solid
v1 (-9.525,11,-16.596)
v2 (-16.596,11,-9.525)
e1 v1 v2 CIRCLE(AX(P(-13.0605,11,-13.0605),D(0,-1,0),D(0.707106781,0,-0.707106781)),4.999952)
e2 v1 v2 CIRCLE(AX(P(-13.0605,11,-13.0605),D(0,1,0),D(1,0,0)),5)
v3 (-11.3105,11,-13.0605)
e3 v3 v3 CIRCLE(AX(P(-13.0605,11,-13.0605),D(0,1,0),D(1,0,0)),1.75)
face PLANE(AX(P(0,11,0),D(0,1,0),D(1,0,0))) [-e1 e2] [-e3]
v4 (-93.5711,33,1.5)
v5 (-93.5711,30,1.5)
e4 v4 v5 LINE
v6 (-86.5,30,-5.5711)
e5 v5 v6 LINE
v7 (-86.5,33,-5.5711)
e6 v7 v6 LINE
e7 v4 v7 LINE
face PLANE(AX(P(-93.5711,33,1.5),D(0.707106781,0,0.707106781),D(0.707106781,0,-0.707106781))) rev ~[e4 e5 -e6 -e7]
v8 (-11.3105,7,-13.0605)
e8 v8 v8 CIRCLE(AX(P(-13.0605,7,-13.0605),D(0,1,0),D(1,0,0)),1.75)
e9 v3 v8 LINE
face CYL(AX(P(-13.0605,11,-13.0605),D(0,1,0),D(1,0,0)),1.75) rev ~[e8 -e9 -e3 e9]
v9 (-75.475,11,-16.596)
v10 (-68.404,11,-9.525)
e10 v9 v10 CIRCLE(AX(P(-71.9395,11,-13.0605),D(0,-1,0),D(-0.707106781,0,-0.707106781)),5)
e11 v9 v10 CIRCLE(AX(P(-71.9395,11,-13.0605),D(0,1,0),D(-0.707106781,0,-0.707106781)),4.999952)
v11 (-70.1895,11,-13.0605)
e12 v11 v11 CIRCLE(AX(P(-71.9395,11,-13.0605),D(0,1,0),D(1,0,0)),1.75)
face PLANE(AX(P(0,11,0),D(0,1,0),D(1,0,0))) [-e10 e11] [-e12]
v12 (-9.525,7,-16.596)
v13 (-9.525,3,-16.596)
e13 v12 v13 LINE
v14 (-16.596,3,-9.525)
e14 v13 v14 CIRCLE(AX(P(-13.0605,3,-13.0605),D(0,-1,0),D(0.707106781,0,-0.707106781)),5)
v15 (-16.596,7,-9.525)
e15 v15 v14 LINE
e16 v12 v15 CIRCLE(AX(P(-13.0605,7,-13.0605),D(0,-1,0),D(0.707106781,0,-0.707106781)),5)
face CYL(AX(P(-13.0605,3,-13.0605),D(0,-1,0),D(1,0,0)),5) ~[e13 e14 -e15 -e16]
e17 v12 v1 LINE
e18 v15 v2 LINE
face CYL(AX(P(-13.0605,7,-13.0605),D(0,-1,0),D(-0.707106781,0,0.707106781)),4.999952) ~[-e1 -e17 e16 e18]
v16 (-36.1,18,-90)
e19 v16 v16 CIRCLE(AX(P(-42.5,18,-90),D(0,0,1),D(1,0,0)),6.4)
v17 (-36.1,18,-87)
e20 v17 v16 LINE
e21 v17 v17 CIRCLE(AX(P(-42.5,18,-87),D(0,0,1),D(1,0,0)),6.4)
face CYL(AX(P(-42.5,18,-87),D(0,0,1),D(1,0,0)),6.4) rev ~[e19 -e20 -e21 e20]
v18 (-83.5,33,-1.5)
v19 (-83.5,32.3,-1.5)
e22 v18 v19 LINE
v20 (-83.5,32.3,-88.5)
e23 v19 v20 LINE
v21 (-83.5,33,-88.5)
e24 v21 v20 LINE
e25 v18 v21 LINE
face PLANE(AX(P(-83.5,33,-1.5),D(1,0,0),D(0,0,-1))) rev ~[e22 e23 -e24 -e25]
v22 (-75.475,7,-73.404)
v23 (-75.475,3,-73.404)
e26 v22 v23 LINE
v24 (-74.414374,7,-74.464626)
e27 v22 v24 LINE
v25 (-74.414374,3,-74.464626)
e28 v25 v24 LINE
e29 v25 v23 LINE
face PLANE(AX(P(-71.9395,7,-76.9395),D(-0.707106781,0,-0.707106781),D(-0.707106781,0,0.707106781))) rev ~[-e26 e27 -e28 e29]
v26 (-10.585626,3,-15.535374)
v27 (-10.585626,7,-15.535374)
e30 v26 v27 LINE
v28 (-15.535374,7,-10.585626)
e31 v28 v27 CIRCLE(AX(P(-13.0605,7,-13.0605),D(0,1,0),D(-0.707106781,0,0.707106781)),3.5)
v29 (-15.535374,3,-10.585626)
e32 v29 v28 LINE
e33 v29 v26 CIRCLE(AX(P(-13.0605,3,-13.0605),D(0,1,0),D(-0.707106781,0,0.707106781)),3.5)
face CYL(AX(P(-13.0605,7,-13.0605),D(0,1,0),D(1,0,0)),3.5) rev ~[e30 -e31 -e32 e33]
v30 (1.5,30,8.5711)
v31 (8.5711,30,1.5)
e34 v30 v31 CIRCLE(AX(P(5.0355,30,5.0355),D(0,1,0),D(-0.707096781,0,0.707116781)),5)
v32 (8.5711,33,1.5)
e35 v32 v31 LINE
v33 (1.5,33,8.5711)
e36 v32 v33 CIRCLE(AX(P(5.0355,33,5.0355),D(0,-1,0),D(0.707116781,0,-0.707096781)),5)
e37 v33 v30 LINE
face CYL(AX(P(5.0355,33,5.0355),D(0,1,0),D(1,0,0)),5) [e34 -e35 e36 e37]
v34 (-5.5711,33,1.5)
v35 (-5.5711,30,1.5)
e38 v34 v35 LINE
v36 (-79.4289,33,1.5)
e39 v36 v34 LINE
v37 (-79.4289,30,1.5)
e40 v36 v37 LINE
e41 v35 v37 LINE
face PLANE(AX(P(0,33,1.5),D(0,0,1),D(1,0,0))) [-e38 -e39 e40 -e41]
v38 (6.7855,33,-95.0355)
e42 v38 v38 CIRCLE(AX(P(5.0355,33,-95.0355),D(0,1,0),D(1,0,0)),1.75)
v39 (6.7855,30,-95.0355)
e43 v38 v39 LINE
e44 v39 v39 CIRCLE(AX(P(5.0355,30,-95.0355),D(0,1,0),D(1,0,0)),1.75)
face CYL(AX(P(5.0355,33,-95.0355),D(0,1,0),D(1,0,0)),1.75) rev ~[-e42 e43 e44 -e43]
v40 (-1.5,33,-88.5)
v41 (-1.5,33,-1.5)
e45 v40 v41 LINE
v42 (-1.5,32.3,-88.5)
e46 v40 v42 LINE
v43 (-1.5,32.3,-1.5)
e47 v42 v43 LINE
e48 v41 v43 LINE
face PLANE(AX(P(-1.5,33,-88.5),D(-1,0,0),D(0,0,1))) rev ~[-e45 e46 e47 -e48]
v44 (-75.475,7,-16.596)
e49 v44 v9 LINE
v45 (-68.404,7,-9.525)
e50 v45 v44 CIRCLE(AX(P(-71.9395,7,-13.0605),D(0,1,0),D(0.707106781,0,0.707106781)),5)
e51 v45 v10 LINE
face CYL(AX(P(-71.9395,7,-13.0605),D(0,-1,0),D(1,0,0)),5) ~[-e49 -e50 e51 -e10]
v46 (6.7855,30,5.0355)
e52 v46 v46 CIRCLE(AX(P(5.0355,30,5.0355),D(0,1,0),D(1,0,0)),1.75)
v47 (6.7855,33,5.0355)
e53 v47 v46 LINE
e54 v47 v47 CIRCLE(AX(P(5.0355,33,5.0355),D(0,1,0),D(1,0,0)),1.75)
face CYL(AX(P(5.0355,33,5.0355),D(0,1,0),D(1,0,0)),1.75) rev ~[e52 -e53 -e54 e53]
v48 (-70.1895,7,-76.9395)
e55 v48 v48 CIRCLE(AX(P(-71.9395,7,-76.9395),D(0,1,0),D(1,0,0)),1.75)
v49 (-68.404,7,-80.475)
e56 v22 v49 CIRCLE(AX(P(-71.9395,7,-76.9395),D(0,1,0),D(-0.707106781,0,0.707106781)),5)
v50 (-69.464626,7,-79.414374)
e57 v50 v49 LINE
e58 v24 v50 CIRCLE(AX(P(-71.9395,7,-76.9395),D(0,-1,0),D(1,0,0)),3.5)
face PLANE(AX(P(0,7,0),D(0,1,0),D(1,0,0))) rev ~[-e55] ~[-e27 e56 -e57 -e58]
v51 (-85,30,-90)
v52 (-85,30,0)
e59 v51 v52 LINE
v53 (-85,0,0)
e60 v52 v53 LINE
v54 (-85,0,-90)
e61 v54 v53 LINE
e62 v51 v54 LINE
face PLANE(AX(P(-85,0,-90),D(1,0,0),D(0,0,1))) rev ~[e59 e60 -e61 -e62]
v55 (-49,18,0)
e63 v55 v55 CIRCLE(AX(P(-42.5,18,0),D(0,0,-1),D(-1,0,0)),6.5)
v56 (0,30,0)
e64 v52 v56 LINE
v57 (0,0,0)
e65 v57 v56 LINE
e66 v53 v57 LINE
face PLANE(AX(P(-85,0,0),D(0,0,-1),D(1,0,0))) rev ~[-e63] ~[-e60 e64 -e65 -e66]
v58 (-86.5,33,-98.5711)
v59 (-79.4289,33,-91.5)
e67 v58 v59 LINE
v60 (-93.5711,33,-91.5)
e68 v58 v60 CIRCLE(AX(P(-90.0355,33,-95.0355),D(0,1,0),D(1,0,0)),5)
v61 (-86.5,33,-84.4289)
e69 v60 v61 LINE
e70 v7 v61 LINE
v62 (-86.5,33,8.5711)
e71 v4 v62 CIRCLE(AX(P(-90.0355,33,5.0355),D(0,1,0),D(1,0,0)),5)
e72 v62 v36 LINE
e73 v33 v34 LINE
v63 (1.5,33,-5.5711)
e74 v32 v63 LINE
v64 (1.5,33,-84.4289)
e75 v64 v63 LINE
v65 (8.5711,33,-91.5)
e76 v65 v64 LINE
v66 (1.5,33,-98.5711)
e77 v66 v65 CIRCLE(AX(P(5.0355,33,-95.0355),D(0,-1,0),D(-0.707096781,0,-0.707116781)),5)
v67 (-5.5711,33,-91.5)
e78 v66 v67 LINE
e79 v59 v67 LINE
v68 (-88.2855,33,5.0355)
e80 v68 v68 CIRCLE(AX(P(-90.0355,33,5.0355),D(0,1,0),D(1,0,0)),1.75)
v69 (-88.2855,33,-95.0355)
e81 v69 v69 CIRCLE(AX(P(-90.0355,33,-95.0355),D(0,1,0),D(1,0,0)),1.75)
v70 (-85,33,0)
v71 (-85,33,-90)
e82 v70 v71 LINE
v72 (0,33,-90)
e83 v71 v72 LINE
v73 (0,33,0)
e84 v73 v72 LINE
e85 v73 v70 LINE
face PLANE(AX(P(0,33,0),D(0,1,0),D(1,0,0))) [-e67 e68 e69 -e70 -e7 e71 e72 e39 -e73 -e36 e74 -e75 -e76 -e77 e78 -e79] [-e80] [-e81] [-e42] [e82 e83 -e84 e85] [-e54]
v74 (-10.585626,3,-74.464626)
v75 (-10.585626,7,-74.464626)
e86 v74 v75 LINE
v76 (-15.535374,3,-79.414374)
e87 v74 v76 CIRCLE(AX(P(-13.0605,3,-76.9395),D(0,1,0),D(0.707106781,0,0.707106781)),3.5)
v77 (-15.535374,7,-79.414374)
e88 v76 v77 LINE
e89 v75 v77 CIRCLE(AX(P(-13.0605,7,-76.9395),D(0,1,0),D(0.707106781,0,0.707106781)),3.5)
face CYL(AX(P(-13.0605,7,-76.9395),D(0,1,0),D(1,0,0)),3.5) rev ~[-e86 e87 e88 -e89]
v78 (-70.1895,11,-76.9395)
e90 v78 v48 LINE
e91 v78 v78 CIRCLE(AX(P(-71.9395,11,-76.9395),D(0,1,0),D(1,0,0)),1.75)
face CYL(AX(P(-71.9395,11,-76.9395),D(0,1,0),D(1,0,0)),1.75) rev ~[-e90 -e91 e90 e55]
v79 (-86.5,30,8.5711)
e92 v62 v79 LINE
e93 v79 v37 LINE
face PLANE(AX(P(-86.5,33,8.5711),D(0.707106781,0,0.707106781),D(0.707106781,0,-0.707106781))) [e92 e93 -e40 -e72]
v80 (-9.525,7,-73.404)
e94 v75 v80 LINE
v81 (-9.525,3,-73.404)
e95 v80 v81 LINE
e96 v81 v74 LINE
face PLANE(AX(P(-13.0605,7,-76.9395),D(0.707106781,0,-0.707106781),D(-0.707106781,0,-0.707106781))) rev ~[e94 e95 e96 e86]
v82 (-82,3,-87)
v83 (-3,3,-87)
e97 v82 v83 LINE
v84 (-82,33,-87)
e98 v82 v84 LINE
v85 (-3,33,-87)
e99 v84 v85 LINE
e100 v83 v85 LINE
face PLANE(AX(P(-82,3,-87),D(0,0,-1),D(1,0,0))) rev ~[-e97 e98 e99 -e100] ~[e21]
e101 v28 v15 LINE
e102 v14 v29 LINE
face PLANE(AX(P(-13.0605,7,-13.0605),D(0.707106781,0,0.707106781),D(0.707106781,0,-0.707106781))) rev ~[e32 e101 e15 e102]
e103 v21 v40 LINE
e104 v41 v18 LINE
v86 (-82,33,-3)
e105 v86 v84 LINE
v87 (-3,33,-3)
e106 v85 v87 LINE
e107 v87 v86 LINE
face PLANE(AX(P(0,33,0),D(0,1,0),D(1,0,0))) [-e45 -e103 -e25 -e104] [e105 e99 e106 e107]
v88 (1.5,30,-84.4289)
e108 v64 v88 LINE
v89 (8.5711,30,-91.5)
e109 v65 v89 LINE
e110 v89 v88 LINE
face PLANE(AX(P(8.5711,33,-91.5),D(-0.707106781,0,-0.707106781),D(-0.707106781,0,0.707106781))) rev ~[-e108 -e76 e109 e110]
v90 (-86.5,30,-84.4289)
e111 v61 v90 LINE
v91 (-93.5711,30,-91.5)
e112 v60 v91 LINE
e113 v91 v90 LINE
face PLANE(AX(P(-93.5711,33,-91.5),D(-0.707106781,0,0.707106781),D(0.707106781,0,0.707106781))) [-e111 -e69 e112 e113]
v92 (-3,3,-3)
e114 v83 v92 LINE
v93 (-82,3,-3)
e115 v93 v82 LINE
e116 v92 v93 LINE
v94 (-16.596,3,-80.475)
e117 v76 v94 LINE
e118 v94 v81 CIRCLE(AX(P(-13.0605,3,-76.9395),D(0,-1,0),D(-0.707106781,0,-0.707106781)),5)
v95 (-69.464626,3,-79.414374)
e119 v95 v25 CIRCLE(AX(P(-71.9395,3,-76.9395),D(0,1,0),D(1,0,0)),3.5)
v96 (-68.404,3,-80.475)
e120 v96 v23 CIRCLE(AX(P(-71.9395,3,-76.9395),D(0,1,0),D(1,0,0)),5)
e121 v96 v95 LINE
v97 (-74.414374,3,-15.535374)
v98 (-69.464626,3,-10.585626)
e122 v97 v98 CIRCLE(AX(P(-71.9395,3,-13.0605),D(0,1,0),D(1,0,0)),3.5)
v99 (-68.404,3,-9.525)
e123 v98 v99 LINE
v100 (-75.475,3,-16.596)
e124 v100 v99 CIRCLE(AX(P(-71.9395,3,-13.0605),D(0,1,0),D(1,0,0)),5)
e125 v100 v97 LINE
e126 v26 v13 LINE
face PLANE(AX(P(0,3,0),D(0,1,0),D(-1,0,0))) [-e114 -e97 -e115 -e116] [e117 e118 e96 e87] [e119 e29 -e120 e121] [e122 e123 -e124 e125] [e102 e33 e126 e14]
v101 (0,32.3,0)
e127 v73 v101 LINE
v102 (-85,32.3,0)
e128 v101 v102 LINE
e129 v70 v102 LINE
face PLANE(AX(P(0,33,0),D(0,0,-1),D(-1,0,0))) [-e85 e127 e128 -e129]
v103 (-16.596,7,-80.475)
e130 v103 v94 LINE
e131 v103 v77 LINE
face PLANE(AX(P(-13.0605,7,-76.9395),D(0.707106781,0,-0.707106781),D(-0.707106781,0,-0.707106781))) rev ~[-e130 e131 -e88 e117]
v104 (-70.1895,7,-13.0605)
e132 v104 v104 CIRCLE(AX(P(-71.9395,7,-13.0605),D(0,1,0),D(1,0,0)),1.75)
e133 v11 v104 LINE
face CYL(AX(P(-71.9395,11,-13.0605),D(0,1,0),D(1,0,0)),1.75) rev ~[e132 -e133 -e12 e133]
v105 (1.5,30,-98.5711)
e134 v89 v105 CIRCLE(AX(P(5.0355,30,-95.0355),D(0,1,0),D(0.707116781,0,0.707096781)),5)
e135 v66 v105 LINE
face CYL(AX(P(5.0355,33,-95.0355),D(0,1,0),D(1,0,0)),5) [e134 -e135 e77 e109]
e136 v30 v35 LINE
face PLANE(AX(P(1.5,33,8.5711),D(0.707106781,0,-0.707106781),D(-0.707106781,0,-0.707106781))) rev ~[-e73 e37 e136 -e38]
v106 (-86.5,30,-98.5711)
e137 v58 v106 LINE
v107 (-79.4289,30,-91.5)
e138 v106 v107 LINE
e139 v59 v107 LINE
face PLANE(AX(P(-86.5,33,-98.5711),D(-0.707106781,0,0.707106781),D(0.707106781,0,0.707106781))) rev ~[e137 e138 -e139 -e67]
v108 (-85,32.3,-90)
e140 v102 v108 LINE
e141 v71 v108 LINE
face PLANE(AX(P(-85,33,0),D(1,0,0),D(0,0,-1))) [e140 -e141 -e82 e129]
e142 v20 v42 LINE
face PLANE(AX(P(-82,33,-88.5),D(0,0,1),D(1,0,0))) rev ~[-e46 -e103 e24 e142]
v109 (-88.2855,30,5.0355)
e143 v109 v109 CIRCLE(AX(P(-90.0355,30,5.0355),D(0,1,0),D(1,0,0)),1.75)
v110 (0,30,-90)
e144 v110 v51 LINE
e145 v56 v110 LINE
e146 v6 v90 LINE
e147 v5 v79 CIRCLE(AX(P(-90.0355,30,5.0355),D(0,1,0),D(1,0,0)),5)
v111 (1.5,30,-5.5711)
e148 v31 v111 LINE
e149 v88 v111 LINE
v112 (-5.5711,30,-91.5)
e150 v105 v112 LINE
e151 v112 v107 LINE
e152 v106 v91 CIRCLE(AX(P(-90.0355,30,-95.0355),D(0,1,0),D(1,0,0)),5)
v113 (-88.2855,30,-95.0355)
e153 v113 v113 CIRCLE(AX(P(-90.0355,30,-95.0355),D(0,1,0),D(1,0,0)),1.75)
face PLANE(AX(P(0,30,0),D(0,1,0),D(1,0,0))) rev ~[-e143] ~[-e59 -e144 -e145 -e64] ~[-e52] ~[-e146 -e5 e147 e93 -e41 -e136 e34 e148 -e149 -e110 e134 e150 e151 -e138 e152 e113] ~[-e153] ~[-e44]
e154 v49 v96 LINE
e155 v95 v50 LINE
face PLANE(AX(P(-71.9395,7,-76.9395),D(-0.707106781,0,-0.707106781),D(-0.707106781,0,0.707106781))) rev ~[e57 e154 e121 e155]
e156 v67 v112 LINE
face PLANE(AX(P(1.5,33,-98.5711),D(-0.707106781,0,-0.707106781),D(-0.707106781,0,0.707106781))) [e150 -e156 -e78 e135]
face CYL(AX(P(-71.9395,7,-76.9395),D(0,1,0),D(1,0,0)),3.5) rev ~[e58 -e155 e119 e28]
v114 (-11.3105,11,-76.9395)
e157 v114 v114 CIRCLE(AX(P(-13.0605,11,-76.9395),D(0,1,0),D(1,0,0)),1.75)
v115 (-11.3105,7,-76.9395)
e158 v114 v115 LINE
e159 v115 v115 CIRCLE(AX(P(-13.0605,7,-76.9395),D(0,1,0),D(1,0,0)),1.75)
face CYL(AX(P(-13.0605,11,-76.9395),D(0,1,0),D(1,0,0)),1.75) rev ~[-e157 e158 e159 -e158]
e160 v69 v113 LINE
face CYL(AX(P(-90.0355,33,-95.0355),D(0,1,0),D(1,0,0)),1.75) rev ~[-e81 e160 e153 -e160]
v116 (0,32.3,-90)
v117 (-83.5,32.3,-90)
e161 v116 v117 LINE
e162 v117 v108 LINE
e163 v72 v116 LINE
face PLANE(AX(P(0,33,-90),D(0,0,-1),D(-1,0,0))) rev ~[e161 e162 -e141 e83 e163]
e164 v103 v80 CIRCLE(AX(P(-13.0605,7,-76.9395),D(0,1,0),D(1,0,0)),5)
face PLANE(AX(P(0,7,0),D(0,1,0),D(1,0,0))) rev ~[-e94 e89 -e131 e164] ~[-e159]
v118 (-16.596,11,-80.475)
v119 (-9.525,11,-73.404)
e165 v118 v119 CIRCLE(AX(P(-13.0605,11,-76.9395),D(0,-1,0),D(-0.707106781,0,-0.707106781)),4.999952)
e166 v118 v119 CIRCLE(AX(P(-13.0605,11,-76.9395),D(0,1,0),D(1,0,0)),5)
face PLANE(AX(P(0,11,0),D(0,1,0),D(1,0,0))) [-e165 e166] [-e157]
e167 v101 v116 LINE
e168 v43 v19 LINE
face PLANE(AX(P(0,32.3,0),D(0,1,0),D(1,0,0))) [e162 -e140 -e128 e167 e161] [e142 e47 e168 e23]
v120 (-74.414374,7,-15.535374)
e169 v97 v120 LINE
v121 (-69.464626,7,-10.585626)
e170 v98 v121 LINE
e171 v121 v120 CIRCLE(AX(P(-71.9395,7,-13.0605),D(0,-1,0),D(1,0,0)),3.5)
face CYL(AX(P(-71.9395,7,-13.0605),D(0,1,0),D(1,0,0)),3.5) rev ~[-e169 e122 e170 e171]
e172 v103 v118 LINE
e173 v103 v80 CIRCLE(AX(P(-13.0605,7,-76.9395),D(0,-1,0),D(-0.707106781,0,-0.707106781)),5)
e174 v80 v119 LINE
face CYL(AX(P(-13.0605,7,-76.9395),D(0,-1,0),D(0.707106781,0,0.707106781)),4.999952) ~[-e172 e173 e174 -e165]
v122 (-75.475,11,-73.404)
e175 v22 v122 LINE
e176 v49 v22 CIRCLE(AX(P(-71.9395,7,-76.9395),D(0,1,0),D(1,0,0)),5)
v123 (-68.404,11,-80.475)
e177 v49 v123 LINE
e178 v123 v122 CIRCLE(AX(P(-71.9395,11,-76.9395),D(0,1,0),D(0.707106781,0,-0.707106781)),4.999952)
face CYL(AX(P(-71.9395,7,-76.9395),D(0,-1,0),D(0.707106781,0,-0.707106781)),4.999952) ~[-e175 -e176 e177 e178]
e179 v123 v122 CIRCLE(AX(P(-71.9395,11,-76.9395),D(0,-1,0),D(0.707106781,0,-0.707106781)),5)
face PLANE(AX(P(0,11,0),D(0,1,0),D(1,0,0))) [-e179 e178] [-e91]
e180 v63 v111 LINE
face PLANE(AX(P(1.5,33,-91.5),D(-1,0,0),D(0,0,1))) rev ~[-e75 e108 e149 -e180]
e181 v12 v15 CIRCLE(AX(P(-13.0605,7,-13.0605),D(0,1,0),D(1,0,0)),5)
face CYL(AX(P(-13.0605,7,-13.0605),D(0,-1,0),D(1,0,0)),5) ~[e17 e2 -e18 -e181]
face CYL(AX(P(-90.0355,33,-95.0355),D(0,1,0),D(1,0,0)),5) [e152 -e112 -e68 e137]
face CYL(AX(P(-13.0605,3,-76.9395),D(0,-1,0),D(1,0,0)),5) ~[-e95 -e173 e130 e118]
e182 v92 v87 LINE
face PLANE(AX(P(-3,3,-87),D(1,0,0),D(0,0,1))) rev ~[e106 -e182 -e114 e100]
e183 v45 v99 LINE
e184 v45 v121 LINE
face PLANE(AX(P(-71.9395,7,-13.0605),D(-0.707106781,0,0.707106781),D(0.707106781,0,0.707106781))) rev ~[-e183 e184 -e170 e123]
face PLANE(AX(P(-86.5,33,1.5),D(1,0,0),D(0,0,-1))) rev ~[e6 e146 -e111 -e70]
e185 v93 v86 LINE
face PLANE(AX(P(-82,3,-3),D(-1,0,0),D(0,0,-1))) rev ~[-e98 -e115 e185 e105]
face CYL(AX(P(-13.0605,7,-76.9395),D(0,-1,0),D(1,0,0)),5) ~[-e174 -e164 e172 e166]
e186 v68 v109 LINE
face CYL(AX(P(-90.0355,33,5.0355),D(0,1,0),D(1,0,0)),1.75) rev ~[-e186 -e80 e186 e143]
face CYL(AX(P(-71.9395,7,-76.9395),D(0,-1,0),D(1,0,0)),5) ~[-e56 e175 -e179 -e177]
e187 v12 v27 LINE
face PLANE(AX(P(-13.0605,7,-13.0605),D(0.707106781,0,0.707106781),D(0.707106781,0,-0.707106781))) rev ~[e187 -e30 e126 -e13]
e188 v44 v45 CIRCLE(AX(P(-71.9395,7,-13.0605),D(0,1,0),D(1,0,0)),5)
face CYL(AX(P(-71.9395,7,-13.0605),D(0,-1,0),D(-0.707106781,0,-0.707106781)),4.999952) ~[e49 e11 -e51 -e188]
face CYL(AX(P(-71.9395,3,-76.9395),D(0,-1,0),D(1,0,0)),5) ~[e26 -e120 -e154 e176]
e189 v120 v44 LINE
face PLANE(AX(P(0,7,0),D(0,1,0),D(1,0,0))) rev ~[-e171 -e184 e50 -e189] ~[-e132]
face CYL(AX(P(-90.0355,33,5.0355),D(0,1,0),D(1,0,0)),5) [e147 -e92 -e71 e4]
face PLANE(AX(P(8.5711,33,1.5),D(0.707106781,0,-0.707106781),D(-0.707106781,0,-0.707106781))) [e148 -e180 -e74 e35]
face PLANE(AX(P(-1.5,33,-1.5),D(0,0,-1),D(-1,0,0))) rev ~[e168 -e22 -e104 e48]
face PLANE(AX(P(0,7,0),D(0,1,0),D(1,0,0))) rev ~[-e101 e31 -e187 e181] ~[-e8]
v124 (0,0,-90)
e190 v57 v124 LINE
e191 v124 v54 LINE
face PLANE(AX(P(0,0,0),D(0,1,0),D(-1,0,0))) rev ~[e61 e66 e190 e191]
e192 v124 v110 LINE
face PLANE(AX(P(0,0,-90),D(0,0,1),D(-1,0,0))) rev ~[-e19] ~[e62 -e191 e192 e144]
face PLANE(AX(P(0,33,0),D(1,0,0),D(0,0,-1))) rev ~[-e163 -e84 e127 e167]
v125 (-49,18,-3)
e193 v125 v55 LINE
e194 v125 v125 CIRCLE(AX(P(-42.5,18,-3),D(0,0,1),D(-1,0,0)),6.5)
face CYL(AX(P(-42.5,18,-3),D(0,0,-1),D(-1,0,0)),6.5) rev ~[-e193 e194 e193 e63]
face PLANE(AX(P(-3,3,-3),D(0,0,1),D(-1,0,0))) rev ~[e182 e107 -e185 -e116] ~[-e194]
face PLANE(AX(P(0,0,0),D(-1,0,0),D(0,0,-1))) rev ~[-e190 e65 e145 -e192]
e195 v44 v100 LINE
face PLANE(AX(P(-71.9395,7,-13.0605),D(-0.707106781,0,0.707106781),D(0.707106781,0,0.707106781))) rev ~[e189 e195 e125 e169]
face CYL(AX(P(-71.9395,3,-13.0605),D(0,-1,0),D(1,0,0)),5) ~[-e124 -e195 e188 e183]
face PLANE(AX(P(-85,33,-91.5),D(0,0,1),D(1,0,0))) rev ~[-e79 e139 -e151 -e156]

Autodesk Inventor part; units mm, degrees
ref_plane "YZ Plane" through (0, 0, 0) normal (1, 0, 0) x (0, 1, 0)
ref_plane "XZ Plane" through (0, 0, 0) normal (0, 1, 0) x (-1, 0, 0)
ref_plane "XY Plane" through (0, 0, 0) normal (0, 0, 1) x (1, 0, 0)
sketch "Sketch1" plane through (0, 0, 0) normal (0, 1, 0) x (-1, 0, 0)
  point P0 (0, 0)
sketch "Sketch2" plane through (0, 0, 0) normal (0, 1, 0) x (-1, 0, 0)
  line L0 (0, 0) -> (0, -90)
  line L1 (0, -90) -> (85, -90)
  line L2 (85, -90) -> (85, 0)
  line L3 (85, 0) -> (0, 0)
  dimension "d0" = 90
  dimension "d1" = 85
extrude "Extrusion1" add sketch "Sketch2" along normal blind 3
sketch "Sketch3" plane through (0, 3, 0) normal (0, 1, 0) x (1, 0, 0)
  line L0 (0, 0) -> (0, 3)
  line L1 (0, 0) -> (0, 90) projected
  line L2 (0, 3) -> (0, 0)
  line L3 (-85, 90) -> (-85, 0) projected
  line L4 (0, 90) -> (-85, 90) projected
  line L5 (-3, 3) -> (-82, 3)
  line L6 (-82, 3) -> (-82, 87)
  line L7 (-82, 87) -> (-3, 87)
  line L8 (-3, 87) -> (-3, 3)
  line L9 (0, 90) -> (-85, 90) projected
  line L10 (-85, 0) -> (0, 0) projected
  line L11 (-85, 90) -> (0, 90)
  line L12 (0, 90) -> (0, 0)
  line L13 (0, 0) -> (-85, 0)
  line L14 (-85, 0) -> (-85, 90)
extrude "Extrusion2" add sketch "Sketch3" along normal blind 30
sketch "Sketch7" plane through (-82, 3, -87) normal (0, 0, 1) x (1, 0, 0)
  point P0 (82, -3)
sketch "Sketch8" plane through (0, 33, 0) normal (0, 1, 0) x (1, 0, 0)
  line L0 (-3, 3) -> (-3, 87) projected
  line L1 (-3, 87) -> (-82, 87) projected
  line L2 (-82, 87) -> (-82, 3) projected
  line L3 (-82, 3) -> (-3, 3) projected
  line L4 (0, 0) -> (0, 90) projected
  line L5 (0, 90) -> (-85, 90) projected
  line L6 (-85, 90) -> (-85, 0) projected
  line L7 (-85, 0) -> (0, 0) projected
  line L8 (-3, 3) -> (-82, 3) projected
  line L9 (-82, 3) -> (-82, 87) projected
  line L10 (-82, 87) -> (-3, 87) projected
  line L11 (-3, 87) -> (-3, 3) projected
  line L12 (-85, 90) -> (-85, 0) projected
  line L13 (0, 0) -> (0, 90) projected
  line L14 (-85, 90) -> (0, 90)
  line L15 (0, 90) -> (0, 0)
  line L16 (0, 0) -> (-85, 0)
  line L17 (-85, 0) -> (-85, 90)
  line L18 (0, 90) -> (-85, 90) projected
  line L19 (-85, 91.5) -> (-86.5, 91.5)
  line L20 (0, -1.5) -> (1.5, -1.5)
  line L21 (-86.5, 91.5) -> (1.5, 91.5)
  line L22 (1.5, 91.5) -> (1.5, -1.5)
  line L23 (1.5, -1.5) -> (-86.5, -1.5)
  line L24 (-86.5, -1.5) -> (-86.5, 91.5)
  dimension "d26" = 1.5
  dimension "d27" = 1.5
  dimension "d28" = 1.5
  dimension "d29" = 1.5
extrude "Extrusion5" add sketch "Sketch8" against normal blind 3 contours L21 L22 L20 L23 L24 L19
sketch "Sketch9" plane through (0, 33, 0) normal (0, 1, 0) x (1, 0, 0)
  line L0 (-3, 3) -> (-3, 87) projected
  line L1 (-3, 87) -> (-82, 87) projected
  line L2 (-82, 87) -> (-82, 3) projected
  line L3 (-82, 3) -> (-3, 3) projected
  line L4 (1.5, 91.5) -> (-86.5, 91.5) projected
  line L5 (-86.5, 91.5) -> (-86.5, -1.5) projected
  line L6 (-86.5, -1.5) -> (1.5, -1.5) projected
  line L7 (1.5, -1.5) -> (1.5, 91.5) projected
  line L8 (-3, 3) -> (-82, 3) projected
  line L9 (-82, 3) -> (-82, 87) projected
  line L10 (-82, 87) -> (-3, 87) projected
  line L11 (-3, 87) -> (-3, 3) projected
  line L12 (-82, 3) -> (-82, 87) projected
  line L13 (-82, 87) -> (-82, 88.5)
  line L14 (-82, 88.5) -> (-83.5, 88.5)
  line L15 (-3, 87) -> (-3, 3) projected
  line L16 (-3, 3) -> (-1.5, 3)
  line L17 (-1.5, 3) -> (-1.5, 1.5)
  line L18 (-1.5, 1.5) -> (-83.5, 1.5)
  line L19 (-83.5, 1.5) -> (-83.5, 88.5)
  line L20 (-83.5, 88.5) -> (-1.5, 88.5)
  line L21 (-1.5, 88.5) -> (-1.5, 1.5)
  line L22 (-83.5, 88.5) -> (-83.5, 90)
  line L23 (0, 90) -> (-85, 90) projected
  line L24 (-83.5, 90) -> (-85, 90)
  line L25 (0, 0) -> (0, 90) projected
  line L26 (0, 0) -> (-85, 0)
  line L27 (-85, 0) -> (-85, 90)
  line L28 (-85, 90) -> (0, 90)
  line L29 (0, 90) -> (0, 0)
  dimension "d33" = 1.5
  dimension "d34" = 1.5
  dimension "d35" = 1.5
  dimension "d36" = 1.5
  dimension "d37" = 1.5
extrude "Extrusion6" cut sketch "Sketch9" against normal blind 0.7 contours L23 L25 L26 L27
sketch "Sketch10" plane through (-82, 3, -87) normal (0, 0, 1) x (1, 0, 0)
  line L0 (0, 30) -> (79, 30)
  line L1 (79, 30) -> (79, 0)
  line L2 (79, 0) -> (0, 0)
  line L3 (0, 0) -> (0, 30)
  line L4 (0, 30) -> (79, 30) projected
  line L5 (79, 0) -> (0, 0) projected
  circle A0 centre (39.5, 15) radius 6.4
  point P0 (82, -3)
  dimension "d40" = 12.8
extrude "Extrusion7" cut sketch "Sketch10" against normal blind 3 contours A0
sketch "Sketch11" plane through (-3, 3, -3) normal (0, 0, -1) x (-1, 0, 0)
  line L0 (0, 30) -> (79, 30) projected
  line L1 (79, 0) -> (0, 0)
  line L2 (0, 0) -> (0, 30)
  line L3 (0, 30) -> (79, 30)
  line L4 (79, 30) -> (79, 0)
  line L5 (79, 30) -> (0, 0)
  line L6 (79, 0) -> (0, 0) projected
  line L7 (0, 30) -> (79, 0)
  circle A0 centre (39.5, 15) radius 6.5
  point P0 (-3, -3)
  dimension "d43" = 13
extrude "Extrusion8" cut sketch "Sketch11" against normal blind 3 contours A0 L5 L7 | L7 L5 A0 | A0 L7 L5 | L5 L7 A0
sketch "Sketch12" plane through (0, 3, 0) normal (0, 1, 0) x (1, 0, 0)
  line L0 (-3, 3) -> (-3, 87) projected
  line L1 (-3, 87) -> (-82, 87) projected
  line L2 (-82, 87) -> (-82, 3) projected
  line L3 (-82, 3) -> (-3, 3) projected
  line L4 (-3, 87) -> (-3, 3) projected
  line L5 (-3, 3) -> (-82, 3) projected
  line L6 (-82, 87) -> (-3, 87) projected
  line L7 (-71.9395, 76.9395) -> (-13.0605, 13.0605) construction
  line L8 (-13.0605, 76.9395) -> (-71.9395, 13.0605) construction
  circle A0 centre (-13.0605, 13.0605) radius 5
  circle A1 centre (-13.0605, 76.9395) radius 5
  circle A2 centre (-71.9395, 76.9395) radius 5
  line L9 (-66.9395, 13.0605) -> (-62.9395, 13.0605) construction
  circle A3 centre (-71.9395, 13.0605) radius 5
  point P0 (0, 0)
  point P1 (-42.5, 45)
  dimension "d60" = 10
  dimension "d61" = 10
  dimension "d62" = 10
  dimension "d65" = 10
extrude "Extrusion10" add sketch "Sketch12" along normal blind 4 contours A0 | A1 | A2 | A3
sketch "Sketch14" plane through (-71.9395, 7, -13.0605) normal (0, 1, 0) x (1, 0, 0)
  circle A0 centre (0, 0) radius 5 projected
  circle A1 centre (0, 63.879) radius 5 projected
  circle A2 centre (58.879, 0) radius 5 projected
  circle A3 centre (58.879, 63.879) radius 5 projected
  circle A4 centre (0, 0) radius 5 projected
  circle A5 centre (0, 0) radius 5
  circle A6 centre (0, 63.879) radius 5 projected
  circle A7 centre (0, 63.879) radius 5
  circle A8 centre (58.879, 63.879) radius 5
  circle A9 centre (58.879, 0) radius 5
  line L0 (0, 0) -> (-3.5355, 3.5355)
  line L1 (0, 0) -> (5, 0) construction
  line L2 (-3.5355, 3.5355) -> (3.5355, -3.5355)
  line L3 (0, 63.879) -> (-3.5355, 60.3435)
  line L4 (-3.5355, 60.3435) -> (3.5355, 67.4145)
  line L5 (58.879, 63.879) -> (55.3435, 67.4145)
  circle A10 centre (58.879, 63.879) radius 5 projected
  line L6 (55.3435, 67.4145) -> (62.4145, 60.3435)
  line L7 (58.879, 0) -> (55.3435, -3.5355)
  circle A11 centre (58.879, 0) radius 5 projected
  line L8 (55.3435, -3.5355) -> (62.4145, 3.5355)
  point P0 (71.9395, -13.0605)
  point P1 (62.4145, 3.5355)
  point P2 (3.5355, 67.4145)
  point P3 (-3.5355, 60.3435)
  point P4 (3.5355, -3.5355)
  point P5 (-3.5355, 3.5355)
  dimension "d68" = 135
extrude "Extrusion11" cut sketch "Sketch14" against normal blind 4 contours A0 L2 L0 | A1 L3 L4 | L8 L7 A2 | L5 L6 A3 picked at (2.7524, 1.8391) picked at (3.1056, 62.7333) picked at (57.1671, 2.8318) picked at (55.576, 63.6792)
sketch "Sketch15" plane through (0, 7, 0) normal (0, 1, 0) x (1, 0, 0)
  line L0 (-68.404, 9.525) -> (-75.475, 16.596) projected
  arc A0 (-75.475, 16.596) -> (-68.404, 9.525) centre (-71.9395, 13.0605) ccw projected
  line L1 (-75.475, 73.404) -> (-68.404, 80.475) projected
  arc A1 (-68.404, 80.475) -> (-75.475, 73.404) centre (-71.9395, 76.9395) ccw projected
  line L2 (-16.596, 80.475) -> (-9.525, 73.404) projected
  arc A2 (-9.525, 73.404) -> (-16.596, 80.475) centre (-13.0605, 76.9395) ccw projected
  line L3 (-9.525, 16.596) -> (-16.596, 9.525) projected
  arc A3 (-16.596, 9.525) -> (-9.525, 16.596) centre (-13.0605, 13.0605) ccw projected
  circle A4 centre (-71.9395, 13.0605) radius 3.5
  circle A5 centre (-71.9395, 76.9395) radius 3.5
  circle A6 centre (-13.0605, 76.9395) radius 3.5
  circle A7 centre (-13.0605, 13.0605) radius 3.5
  point P0 (0, 0)
  dimension "d71" = 7
  dimension "d72" = 7
  dimension "d73" = 7
  dimension "d74" = 7
extrude "Extrusion12" cut sketch "Sketch15" against normal blind 4 contours A4 L0 | L0 A4 | A5 L1 | L1 A5 | A6 L2 | L2 A6 | A7 L3 | L3 A7
sketch "Sketch16" plane through (0, 7, 0) normal (0, 1, 0) x (1, 0, 0)
  arc A0 (-74.4144, 15.5354) -> (-69.4646, 10.5856) centre (-71.9395, 13.0605) ccw projected
  line L0 (-74.4144, 15.5354) -> (-75.475, 16.596) projected
  arc A1 (-75.475, 16.596) -> (-68.404, 9.525) centre (-71.9395, 13.0605) ccw projected
  line L1 (-68.404, 9.525) -> (-69.4646, 10.5856) projected
  arc A2 (-15.5354, 10.5856) -> (-10.5856, 15.5354) centre (-13.0605, 13.0605) ccw projected
  line L2 (-15.5354, 10.5856) -> (-16.596, 9.525) projected
  arc A3 (-16.596, 9.525) -> (-9.525, 16.596) centre (-13.0605, 13.0605) ccw projected
  line L3 (-9.525, 16.596) -> (-10.5856, 15.5354) projected
  arc A4 (-10.5856, 74.4646) -> (-15.5354, 79.4144) centre (-13.0605, 76.9395) ccw projected
  line L4 (-10.5856, 74.4646) -> (-9.525, 73.404) projected
  arc A5 (-9.525, 73.404) -> (-16.596, 80.475) centre (-13.0605, 76.9395) ccw projected
  line L5 (-16.596, 80.475) -> (-15.5354, 79.4144) projected
  arc A6 (-69.4646, 79.4144) -> (-74.4144, 74.4646) centre (-71.9395, 76.9395) ccw projected
  line L6 (-69.4646, 79.4144) -> (-68.404, 80.475) projected
  arc A7 (-68.404, 80.475) -> (-75.475, 73.404) centre (-71.9395, 76.9395) ccw projected
  line L7 (-75.475, 73.404) -> (-74.4144, 74.4646) projected
  circle A8 centre (-71.9395, 13.0605) radius 5
  arc A9 (-68.404, 80.475) -> (-75.475, 73.404) centre (-71.9395, 76.9395) ccw projected
  circle A10 centre (-71.9395, 76.9395) radius 5
  circle A11 centre (-13.0605, 76.9395) radius 5
  circle A12 centre (-13.0605, 13.0605) radius 5
  point P0 (0, 0)
  point P1 (-75.475, 73.404)
  point P2 (-16.596, 80.475)
  point P3 (-68.404, 9.525)
  point P4 (-9.525, 16.596)
extrude "Extrusion13" add sketch "Sketch16" along normal blind 4
sketch "Sketch17" plane through (-13.0605, 11, -76.9395) normal (0, 1, 0) x (1, 0, 0)
  circle A0 centre (0, 0) radius 5 projected
  circle A1 centre (0, -63.879) radius 5 projected
  circle A2 centre (-58.879, 0) radius 5 projected
  circle A3 centre (-58.879, -63.879) radius 5 projected
  circle A4 centre (0, 0) radius 1.75
  arc A5 (3.5355, -60.3435) -> (-3.5355, -67.4145) centre (0, -63.879) ccw projected
  circle A6 centre (0, -63.879) radius 1.75
  circle A7 centre (-58.879, -63.879) radius 1.75
  circle A8 centre (-58.879, 0) radius 5 projected
  circle A9 centre (-58.879, 0) radius 1.75
  point P0 (13.0605, -76.9395)
  dimension "d79" = 3.5
  dimension "d80" = 3.5
  dimension "d81" = 3.5
  dimension "d82" = 3.5
extrude "Extrusion14" cut sketch "Sketch17" against normal blind 4 contours A4 | A6 | A7 | A9
sketch "Sketch18" plane through (1.5, 33, -91.5) normal (0, 0, -1) x (-1, 0, 0)
  point P0 (1.5, -33)
sketch "Sketch20" plane through (0, 33, 0) normal (0, 1, 0) x (1, 0, 0)
  line L0 (1.5, 91.5) -> (1.5, -1.5) projected
  line L1 (1.5, -1.5) -> (5.0355, -5.0355)
  line L2 (1.5, -1.5) -> (6.5, -1.5) construction
  circle A0 centre (5.0355, -5.0355) radius 5
  line L3 (5.0355, -5.0355) -> (8.5711, -1.5)
  line L4 (8.5711, -1.5) -> (1.5, -8.5711)
  line L5 (1.5, -8.5711) -> (-5.5711, -1.5)
  line L6 (1.5, -1.5) -> (-86.5, -1.5) projected
  line L7 (8.5711, -1.5) -> (1.5, 5.5711)
  line L8 (-86.5, 91.5) -> (-86.5, -1.5) projected
  line L9 (-86.5, -1.5) -> (-90.0355, -5.0355)
  line L10 (-86.5, -1.5) -> (-81.5, -1.5) construction
  circle A1 centre (-90.0355, -5.0355) radius 5
  line L11 (-90.0355, -5.0355) -> (-86.5, -8.5711)
  line L12 (-86.5, -8.5711) -> (-93.5711, -1.5)
  line L13 (-93.5711, -1.5) -> (-86.5, 5.5711)
  line L14 (-86.5, -8.5711) -> (-79.4289, -1.5)
  line L15 (-86.5, 91.5) -> (-90.0355, 95.0355)
  line L16 (-86.5, 91.5) -> (-81.5, 91.5) construction
  circle A2 centre (-90.0355, 95.0355) radius 5
  line L17 (-90.0355, 95.0355) -> (-93.5711, 91.5)
  line L18 (-93.5711, 91.5) -> (-86.5, 98.5711)
  line L19 (-93.5711, 91.5) -> (-86.5, 84.4289)
  line L20 (-86.5, 98.5711) -> (-79.4289, 91.5)
  line L21 (-86.5, 91.5) -> (1.5, 91.5) projected
  line L22 (1.5, 91.5) -> (5.0355, 95.0355)
  line L23 (1.5, 91.5) -> (6.5, 91.5) construction
  circle A3 centre (5.0355, 95.0355) radius 5
  line L24 (5.0355, 95.0355) -> (8.5711, 91.5)
  line L25 (8.5711, 91.5) -> (1.5, 98.5711)
  line L26 (1.5, 98.5711) -> (-5.5711, 91.5)
  line L27 (8.5711, 91.5) -> (1.5, 84.4289)
  point P0 (0, 0)
  dimension "d85" = 5
  dimension "d86" = 45
  dimension "d87" = 5
  dimension "d88" = 135
  dimension "d89" = 5
  dimension "d90" = 135
  dimension "d91" = 5
  dimension "d92" = 45
extrude "Extrusion15" add sketch "Sketch20" against normal blind 3 contours A3 L27 L0 | A3 L25 L22 | L21 L26 A3 | L22 L24 A3 | L25 A3 L24 | L7 A0 L0 | L21 A2 L20 | A0 L3 L1 | L1 L4 A0 | A0 L5 L6 | A0 L4 L3 | L18 L17 A2 | A2 L15 L18 | A2 L17 L15 | L8 L19 A2 | L14 A1 L6 | L8 A1 L13 | A1 L11 L9 | L9 L12 A1 | A1 L12 L11
sketch "Sketch21" plane through (0, 33, 0) normal (0, 1, 0) x (1, 0, 0)
  line L0 (-5.5711, 91.5) -> (-79.4289, 91.5) projected
  line L1 (-79.4289, 91.5) -> (-86.5, 98.5711) projected
  arc A0 (-86.5, 98.5711) -> (-93.5711, 91.5) centre (-90.0355, 95.0355) ccw projected
  line L2 (-93.5711, 91.5) -> (-86.5, 84.4289) projected
  line L3 (-86.5, 84.4289) -> (-86.5, 5.5711) projected
  line L4 (-86.5, 5.5711) -> (-93.5711, -1.5) projected
  arc A1 (-93.5711, -1.5) -> (-86.5, -8.5711) centre (-90.0355, -5.0355) ccw projected
  line L5 (-86.5, -8.5711) -> (-79.4289, -1.5) projected
  line L6 (-79.4289, -1.5) -> (-5.5711, -1.5) projected
  line L7 (-5.5711, -1.5) -> (1.5, -8.5711) projected
  arc A2 (1.5, -8.5711) -> (8.5711, -1.5) centre (5.0355, -5.0355) ccw projected
  line L8 (8.5711, -1.5) -> (1.5, 5.5711) projected
  line L9 (1.5, 5.5711) -> (1.5, 84.4289) projected
  line L10 (1.5, 84.4289) -> (8.5711, 91.5) projected
  arc A3 (8.5711, 91.5) -> (1.5, 98.5711) centre (5.0355, 95.0355) ccw projected
  line L11 (1.5, 98.5711) -> (-5.5711, 91.5) projected
  line L12 (0, 0) -> (-85, 0) projected
  line L13 (-85, 0) -> (-85, 90) projected
  line L14 (-85, 90) -> (0, 90) projected
  line L15 (0, 90) -> (0, 0) projected
  circle A4 centre (5.0355, -5.0355) radius 1.75
  circle A5 centre (5.0355, 95.0355) radius 1.75
  circle A6 centre (-90.0355, 95.0355) radius 1.75
  circle A7 centre (-90.0355, -5.0355) radius 1.75
  dimension "d95" = 3.5
  dimension "d96" = 3.5
  dimension "d97" = 3.5
  dimension "d98" = 3.5
extrude "Extrusion16" cut sketch "Sketch21" against normal blind 3 contours A4 | A5 | A6 | A7
properties part number "Base inferior" material "Steel, Mild, Welded"
